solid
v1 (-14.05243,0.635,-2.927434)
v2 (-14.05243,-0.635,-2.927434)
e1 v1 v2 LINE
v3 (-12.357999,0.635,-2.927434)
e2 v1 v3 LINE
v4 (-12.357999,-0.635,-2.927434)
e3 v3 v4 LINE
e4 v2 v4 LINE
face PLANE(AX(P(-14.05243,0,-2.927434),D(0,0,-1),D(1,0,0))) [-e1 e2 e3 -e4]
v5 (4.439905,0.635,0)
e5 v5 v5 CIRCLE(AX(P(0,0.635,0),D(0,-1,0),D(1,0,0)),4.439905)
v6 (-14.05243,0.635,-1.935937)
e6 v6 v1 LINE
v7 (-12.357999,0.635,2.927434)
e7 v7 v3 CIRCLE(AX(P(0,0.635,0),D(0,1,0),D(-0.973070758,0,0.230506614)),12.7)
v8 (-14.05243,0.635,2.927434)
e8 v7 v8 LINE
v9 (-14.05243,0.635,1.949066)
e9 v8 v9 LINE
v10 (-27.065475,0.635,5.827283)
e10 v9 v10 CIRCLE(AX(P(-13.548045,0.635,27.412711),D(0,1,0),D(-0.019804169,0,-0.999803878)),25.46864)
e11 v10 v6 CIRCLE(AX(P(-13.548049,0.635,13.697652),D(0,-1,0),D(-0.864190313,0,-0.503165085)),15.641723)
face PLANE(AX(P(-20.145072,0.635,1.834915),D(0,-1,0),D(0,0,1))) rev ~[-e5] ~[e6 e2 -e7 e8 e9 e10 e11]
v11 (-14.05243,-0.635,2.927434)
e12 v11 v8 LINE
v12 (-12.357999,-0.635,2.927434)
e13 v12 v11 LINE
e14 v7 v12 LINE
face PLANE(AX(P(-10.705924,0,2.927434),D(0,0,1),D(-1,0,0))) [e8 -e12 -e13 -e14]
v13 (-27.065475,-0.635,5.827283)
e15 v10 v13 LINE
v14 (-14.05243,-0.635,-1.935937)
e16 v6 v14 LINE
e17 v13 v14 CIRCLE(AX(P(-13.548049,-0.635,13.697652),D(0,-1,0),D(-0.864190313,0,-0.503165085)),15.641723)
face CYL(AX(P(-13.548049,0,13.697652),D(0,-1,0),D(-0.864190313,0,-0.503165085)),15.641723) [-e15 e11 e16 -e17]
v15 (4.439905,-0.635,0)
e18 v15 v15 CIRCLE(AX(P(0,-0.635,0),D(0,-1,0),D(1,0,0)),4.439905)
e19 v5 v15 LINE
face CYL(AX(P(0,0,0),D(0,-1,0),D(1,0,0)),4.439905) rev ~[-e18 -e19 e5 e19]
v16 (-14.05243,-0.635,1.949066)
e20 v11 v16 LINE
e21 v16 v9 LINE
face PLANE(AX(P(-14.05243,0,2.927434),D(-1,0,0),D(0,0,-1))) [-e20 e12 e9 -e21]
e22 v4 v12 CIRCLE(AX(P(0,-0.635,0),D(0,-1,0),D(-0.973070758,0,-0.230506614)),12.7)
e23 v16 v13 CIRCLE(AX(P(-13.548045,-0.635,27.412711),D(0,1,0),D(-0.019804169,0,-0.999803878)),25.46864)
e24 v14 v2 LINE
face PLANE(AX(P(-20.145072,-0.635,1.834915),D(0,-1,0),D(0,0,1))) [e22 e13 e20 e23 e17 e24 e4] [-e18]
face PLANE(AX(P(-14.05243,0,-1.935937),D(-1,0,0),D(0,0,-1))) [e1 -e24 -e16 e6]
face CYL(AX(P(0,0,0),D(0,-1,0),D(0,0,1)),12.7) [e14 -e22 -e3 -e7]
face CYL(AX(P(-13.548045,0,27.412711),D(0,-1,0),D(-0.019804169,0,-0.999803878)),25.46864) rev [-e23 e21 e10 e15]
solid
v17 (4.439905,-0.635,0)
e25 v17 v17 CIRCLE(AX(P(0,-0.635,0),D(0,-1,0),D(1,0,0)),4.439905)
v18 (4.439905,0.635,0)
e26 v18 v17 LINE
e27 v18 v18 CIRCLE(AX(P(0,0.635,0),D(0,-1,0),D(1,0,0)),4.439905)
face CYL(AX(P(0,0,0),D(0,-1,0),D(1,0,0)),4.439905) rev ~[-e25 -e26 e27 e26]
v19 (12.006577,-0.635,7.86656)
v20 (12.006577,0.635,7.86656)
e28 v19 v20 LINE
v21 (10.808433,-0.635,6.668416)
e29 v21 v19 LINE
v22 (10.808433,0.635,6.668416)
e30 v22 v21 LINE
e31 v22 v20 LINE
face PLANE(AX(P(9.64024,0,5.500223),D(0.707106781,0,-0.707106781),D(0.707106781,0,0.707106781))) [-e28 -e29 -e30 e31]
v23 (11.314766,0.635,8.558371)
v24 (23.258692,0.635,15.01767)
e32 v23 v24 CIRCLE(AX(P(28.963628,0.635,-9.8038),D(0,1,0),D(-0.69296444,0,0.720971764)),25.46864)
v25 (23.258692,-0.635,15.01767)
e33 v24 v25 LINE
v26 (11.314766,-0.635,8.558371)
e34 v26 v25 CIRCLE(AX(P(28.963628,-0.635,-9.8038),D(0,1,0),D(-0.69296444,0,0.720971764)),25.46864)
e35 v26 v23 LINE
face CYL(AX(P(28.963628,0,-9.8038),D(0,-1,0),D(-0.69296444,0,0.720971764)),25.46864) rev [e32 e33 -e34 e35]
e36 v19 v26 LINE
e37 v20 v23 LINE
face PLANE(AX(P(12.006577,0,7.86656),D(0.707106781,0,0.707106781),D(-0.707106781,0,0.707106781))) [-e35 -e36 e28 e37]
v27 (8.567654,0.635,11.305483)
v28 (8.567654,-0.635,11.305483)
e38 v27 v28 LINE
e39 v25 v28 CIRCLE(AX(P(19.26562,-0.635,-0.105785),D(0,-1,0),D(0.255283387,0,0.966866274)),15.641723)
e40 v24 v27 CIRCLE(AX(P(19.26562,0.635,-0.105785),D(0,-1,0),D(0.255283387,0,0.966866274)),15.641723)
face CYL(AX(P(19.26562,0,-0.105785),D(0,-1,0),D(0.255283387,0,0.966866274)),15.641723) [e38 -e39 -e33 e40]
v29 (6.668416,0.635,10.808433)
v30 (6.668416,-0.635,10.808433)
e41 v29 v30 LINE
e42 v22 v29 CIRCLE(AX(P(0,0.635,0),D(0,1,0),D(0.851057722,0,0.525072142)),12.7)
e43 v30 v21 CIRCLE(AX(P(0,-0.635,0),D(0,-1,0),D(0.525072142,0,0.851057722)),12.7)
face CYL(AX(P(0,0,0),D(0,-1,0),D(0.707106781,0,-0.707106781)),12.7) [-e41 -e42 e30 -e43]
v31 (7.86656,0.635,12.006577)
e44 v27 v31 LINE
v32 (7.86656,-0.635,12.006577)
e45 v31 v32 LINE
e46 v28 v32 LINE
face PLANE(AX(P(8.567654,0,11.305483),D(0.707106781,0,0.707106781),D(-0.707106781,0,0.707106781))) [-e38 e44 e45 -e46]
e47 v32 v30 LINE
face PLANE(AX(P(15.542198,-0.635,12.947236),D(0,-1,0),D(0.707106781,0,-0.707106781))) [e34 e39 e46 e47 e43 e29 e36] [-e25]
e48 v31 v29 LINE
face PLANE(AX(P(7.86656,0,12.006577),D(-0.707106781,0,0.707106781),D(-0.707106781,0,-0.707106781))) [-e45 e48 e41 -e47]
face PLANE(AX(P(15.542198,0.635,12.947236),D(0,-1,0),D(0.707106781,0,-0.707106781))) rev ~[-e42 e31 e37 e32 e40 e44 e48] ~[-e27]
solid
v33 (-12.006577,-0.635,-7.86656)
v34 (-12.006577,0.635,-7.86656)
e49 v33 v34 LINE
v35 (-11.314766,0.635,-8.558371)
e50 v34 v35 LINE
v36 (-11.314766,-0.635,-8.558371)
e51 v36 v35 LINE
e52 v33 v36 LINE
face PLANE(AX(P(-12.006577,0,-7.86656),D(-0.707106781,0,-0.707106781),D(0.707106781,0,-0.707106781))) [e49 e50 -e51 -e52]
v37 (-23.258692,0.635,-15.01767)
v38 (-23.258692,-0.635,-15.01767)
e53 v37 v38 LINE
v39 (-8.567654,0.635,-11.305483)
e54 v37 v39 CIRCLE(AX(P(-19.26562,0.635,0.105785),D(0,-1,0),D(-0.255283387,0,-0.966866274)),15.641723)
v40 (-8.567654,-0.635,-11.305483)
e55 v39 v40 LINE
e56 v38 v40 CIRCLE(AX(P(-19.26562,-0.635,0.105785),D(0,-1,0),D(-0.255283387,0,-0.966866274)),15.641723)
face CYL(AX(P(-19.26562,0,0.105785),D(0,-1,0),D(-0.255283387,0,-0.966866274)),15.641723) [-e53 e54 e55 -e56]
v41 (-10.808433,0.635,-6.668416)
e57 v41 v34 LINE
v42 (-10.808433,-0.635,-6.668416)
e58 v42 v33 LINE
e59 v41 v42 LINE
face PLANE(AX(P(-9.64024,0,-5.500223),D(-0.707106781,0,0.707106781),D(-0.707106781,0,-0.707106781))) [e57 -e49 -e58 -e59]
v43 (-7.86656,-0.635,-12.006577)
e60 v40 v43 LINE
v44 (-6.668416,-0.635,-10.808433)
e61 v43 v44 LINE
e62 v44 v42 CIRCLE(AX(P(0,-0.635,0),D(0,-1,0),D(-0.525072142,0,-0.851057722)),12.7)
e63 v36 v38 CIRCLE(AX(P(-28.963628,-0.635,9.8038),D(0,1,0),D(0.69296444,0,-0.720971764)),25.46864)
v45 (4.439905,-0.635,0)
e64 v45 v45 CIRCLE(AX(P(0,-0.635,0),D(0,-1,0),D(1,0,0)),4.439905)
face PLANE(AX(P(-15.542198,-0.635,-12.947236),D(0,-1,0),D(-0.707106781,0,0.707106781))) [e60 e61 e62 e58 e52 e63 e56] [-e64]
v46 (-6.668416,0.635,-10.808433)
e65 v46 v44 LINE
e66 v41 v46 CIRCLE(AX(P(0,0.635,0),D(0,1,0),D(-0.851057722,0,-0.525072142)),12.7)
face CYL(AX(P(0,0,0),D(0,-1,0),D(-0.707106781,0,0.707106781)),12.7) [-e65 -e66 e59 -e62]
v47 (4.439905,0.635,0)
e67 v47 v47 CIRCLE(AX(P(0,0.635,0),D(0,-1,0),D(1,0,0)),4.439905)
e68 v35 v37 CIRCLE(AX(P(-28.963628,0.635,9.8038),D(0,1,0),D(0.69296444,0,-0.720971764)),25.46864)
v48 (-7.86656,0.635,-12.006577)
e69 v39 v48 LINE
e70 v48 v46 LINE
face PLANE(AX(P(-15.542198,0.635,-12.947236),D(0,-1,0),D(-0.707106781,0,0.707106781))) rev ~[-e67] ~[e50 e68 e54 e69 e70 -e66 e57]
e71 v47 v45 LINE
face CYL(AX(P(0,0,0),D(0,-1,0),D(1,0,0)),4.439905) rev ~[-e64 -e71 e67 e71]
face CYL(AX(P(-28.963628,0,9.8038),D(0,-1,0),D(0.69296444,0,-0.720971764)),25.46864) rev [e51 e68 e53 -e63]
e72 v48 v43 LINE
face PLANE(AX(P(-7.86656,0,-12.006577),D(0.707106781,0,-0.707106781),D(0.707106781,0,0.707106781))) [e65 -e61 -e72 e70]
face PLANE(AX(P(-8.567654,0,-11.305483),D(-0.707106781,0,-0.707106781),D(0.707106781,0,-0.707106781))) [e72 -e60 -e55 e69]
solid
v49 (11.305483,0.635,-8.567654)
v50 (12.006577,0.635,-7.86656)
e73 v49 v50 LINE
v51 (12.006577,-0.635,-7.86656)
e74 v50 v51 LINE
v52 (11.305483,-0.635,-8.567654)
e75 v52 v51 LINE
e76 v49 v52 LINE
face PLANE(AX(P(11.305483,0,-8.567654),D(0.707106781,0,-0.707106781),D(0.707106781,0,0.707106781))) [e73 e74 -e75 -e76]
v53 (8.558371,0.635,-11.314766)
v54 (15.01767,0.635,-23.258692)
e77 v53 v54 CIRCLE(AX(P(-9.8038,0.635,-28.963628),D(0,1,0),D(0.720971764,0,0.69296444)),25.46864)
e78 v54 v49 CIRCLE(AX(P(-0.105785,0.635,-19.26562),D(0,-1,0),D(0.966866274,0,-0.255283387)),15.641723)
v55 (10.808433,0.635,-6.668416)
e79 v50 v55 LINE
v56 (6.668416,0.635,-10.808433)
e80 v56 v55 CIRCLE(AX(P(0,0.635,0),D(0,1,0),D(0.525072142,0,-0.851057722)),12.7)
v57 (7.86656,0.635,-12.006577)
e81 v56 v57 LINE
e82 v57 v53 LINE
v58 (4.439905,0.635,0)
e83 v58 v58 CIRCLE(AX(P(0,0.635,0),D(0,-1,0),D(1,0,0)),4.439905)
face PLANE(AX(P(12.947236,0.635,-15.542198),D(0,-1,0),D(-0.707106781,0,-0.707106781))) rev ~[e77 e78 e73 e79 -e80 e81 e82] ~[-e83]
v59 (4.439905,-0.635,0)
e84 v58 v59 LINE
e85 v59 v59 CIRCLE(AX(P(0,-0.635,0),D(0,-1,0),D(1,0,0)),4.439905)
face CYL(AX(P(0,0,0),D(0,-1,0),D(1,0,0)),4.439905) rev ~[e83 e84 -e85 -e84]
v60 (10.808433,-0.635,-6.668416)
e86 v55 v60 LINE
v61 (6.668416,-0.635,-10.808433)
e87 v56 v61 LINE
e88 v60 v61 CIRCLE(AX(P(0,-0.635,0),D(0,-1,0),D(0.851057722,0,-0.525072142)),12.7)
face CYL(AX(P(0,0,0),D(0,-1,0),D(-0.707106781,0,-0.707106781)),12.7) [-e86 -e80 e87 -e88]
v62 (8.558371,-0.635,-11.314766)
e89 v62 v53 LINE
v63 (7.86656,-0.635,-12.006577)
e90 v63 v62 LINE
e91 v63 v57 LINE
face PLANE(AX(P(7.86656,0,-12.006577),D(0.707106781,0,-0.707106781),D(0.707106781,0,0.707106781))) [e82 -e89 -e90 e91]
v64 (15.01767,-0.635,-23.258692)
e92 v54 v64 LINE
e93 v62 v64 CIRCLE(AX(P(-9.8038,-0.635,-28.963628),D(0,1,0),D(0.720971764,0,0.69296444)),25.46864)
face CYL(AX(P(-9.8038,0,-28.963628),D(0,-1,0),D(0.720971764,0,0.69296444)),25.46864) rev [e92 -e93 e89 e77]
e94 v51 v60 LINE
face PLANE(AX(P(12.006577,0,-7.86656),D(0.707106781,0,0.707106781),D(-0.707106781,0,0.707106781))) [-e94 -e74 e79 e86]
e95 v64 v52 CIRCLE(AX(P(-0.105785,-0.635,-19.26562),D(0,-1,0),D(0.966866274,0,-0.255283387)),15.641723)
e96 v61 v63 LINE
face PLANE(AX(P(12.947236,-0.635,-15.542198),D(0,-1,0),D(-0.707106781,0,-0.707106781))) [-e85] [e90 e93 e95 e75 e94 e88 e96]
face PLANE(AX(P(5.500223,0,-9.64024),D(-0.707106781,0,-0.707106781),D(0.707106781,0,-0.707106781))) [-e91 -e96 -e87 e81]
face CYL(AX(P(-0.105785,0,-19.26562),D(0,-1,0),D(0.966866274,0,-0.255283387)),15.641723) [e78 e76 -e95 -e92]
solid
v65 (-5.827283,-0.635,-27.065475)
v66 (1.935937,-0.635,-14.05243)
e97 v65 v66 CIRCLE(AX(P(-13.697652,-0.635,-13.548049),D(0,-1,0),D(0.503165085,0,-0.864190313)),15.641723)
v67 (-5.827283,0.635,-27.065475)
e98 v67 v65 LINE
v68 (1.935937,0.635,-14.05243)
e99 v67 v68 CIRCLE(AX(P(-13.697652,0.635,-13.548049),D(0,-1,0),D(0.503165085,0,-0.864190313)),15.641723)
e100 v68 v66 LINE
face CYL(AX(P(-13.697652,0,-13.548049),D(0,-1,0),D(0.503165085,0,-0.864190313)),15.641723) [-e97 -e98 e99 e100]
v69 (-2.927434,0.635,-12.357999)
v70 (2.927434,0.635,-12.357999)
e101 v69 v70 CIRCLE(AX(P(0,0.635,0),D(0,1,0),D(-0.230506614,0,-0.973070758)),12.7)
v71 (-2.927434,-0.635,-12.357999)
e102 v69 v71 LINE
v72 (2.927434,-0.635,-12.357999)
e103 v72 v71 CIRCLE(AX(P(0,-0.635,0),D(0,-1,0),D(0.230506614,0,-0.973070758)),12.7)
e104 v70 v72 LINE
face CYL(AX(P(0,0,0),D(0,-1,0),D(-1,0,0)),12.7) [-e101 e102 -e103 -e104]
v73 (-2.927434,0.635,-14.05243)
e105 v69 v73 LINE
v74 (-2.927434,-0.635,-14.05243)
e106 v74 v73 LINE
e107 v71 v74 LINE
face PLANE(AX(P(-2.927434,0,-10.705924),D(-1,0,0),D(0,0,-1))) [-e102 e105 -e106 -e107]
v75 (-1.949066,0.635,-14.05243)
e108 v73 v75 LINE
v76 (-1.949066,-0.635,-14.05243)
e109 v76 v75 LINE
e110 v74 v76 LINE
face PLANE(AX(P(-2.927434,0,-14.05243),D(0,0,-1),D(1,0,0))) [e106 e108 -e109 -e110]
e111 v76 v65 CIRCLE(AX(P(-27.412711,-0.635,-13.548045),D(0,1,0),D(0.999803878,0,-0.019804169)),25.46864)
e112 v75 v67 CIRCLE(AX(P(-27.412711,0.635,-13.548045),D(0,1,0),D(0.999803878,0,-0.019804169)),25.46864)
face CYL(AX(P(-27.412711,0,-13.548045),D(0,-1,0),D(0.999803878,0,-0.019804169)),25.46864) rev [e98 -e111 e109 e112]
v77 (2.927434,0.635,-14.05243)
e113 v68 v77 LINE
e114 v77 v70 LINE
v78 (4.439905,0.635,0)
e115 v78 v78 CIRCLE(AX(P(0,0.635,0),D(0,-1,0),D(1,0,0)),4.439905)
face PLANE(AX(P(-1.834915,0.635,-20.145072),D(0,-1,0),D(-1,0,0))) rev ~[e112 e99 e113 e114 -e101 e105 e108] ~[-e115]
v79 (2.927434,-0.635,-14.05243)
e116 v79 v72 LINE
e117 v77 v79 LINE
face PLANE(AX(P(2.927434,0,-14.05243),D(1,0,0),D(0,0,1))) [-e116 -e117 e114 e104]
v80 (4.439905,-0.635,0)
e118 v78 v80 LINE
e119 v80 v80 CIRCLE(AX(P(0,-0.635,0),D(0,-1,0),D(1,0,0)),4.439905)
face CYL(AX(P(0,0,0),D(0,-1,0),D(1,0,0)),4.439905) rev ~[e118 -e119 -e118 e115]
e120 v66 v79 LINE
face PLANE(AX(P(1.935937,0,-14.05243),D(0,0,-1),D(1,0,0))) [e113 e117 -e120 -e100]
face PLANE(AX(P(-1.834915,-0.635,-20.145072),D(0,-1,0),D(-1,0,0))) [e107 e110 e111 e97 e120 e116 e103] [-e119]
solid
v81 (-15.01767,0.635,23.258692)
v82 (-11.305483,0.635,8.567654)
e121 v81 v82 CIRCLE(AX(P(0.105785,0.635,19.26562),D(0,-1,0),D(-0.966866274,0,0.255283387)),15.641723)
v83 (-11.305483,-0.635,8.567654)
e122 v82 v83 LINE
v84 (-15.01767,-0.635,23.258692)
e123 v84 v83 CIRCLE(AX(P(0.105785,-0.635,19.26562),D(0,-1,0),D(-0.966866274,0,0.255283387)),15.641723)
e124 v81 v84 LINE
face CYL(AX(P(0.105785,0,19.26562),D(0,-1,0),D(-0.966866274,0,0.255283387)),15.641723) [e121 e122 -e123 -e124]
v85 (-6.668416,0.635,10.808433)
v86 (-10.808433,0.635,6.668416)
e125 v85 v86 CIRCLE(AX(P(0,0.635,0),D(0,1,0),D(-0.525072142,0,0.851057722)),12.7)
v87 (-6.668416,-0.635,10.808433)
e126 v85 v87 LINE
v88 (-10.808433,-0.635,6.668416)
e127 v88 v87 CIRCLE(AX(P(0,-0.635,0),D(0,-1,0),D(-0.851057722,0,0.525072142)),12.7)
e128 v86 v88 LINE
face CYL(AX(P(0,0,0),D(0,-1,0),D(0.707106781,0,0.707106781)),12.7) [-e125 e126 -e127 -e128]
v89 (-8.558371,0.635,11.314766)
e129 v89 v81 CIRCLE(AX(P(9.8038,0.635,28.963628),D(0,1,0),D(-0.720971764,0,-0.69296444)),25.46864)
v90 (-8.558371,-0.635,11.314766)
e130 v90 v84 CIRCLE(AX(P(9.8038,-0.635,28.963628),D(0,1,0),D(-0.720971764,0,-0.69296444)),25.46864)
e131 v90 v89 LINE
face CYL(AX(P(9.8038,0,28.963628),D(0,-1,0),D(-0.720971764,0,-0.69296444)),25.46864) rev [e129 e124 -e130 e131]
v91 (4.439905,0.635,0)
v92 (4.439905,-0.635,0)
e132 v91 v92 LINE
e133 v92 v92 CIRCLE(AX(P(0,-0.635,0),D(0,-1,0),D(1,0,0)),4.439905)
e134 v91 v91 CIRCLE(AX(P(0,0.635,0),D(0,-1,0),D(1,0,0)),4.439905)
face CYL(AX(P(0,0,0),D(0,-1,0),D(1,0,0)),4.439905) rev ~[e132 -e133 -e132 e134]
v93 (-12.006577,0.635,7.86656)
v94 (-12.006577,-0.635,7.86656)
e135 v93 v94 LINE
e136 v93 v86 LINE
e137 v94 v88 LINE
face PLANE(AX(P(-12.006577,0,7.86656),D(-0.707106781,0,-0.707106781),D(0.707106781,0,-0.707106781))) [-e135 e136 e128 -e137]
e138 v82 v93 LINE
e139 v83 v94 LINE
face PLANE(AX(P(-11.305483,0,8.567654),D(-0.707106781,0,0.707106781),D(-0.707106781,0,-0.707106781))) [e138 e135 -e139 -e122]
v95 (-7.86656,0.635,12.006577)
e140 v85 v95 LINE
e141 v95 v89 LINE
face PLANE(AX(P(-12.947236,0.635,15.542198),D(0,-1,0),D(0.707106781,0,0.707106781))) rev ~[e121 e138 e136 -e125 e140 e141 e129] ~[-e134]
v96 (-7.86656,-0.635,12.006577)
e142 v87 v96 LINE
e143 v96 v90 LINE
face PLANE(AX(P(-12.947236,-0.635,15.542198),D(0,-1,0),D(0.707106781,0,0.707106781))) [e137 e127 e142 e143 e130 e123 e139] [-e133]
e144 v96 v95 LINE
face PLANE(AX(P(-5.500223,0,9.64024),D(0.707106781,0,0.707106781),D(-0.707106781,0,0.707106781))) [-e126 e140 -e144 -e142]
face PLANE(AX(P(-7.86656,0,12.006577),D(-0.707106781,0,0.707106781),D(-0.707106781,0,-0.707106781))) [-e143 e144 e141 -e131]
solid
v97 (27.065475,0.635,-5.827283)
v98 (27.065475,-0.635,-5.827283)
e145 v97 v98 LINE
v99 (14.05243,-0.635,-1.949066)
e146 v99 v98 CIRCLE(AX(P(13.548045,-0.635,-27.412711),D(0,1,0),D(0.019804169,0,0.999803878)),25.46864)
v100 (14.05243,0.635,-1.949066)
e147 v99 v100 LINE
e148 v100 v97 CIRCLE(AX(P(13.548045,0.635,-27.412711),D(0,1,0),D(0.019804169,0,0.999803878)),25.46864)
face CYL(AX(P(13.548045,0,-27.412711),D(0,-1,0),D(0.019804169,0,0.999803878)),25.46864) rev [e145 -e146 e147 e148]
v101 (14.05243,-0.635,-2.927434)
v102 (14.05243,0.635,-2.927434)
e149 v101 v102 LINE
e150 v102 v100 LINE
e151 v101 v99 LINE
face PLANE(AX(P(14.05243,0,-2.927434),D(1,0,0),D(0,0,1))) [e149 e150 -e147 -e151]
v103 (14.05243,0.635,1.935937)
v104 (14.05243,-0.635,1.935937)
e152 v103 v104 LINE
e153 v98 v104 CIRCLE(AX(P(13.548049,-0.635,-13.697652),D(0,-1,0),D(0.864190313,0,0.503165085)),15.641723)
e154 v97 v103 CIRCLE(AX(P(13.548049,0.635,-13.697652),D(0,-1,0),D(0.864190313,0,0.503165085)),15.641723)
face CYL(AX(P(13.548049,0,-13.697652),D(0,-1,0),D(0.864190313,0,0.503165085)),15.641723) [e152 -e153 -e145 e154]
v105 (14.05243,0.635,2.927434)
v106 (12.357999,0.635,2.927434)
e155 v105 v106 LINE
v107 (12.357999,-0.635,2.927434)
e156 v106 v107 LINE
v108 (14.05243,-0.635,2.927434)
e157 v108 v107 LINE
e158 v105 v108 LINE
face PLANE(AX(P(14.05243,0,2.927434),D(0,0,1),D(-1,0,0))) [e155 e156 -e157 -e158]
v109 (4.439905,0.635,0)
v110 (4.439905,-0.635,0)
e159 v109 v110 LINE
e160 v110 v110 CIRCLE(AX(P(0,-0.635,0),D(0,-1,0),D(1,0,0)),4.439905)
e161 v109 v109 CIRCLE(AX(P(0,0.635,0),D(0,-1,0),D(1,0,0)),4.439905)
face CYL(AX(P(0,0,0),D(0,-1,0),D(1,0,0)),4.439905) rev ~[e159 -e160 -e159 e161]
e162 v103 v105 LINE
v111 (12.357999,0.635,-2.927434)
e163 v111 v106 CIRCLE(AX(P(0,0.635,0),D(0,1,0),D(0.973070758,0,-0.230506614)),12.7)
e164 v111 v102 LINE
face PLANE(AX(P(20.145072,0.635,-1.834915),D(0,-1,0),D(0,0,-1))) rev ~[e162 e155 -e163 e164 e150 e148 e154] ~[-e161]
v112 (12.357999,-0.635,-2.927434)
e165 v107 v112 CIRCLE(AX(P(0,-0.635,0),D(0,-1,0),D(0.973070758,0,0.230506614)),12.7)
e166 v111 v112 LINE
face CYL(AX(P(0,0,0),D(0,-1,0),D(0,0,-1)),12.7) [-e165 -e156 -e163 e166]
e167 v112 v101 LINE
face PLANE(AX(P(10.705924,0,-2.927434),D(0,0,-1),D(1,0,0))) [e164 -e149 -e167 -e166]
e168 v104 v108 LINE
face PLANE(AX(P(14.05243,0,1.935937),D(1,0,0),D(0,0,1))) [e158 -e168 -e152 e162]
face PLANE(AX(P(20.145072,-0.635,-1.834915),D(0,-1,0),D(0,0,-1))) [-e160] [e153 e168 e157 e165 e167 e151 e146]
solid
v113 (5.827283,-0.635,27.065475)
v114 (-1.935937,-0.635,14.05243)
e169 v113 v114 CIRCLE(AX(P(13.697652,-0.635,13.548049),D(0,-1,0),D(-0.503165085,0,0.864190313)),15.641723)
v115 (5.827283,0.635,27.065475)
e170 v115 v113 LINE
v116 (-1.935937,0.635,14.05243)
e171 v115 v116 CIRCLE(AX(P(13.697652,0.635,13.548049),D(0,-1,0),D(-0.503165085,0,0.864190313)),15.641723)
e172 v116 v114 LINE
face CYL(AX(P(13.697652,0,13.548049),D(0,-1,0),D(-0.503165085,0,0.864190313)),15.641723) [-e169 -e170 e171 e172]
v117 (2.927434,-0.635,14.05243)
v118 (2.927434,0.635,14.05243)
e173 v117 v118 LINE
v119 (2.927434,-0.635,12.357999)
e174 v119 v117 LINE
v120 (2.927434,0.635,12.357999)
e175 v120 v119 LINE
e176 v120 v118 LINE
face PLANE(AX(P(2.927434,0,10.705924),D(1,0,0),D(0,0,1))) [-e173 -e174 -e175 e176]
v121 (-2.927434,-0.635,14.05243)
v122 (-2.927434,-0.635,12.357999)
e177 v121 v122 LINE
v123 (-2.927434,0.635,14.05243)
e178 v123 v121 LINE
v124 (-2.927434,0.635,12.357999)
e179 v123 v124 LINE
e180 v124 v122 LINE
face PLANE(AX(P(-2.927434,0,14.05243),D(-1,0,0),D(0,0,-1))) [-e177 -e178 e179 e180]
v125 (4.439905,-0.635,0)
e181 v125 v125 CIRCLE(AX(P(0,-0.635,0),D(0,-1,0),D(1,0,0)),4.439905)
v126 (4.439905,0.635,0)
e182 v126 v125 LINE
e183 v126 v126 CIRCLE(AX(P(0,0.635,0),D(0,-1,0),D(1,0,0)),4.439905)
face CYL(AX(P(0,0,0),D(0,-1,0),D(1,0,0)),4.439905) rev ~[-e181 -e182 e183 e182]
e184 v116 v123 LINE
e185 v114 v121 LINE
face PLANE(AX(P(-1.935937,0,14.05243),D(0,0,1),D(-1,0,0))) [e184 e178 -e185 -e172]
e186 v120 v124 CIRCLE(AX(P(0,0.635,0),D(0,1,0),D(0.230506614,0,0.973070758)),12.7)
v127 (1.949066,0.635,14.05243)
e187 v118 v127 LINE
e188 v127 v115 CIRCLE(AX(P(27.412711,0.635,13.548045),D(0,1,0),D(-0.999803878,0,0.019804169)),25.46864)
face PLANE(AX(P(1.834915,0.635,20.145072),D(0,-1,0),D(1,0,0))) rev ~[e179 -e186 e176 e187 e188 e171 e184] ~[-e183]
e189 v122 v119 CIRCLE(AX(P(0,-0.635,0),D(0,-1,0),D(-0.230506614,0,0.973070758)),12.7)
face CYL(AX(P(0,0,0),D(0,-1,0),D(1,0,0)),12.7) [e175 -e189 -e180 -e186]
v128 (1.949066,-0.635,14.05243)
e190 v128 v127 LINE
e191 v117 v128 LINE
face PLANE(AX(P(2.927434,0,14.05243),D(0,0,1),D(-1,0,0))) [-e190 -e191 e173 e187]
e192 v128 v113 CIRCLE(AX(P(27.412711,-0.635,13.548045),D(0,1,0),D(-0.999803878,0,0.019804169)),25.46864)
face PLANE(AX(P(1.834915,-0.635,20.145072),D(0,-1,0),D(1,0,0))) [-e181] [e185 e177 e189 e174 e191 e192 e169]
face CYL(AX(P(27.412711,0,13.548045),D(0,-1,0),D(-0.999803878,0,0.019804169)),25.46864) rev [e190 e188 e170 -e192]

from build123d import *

# Parameters (mm, degrees)
F0_R     = 12.7
F1_DEPTH = 0.635
F3_DEPTH = 0.635
F4_COUNT = 8
F5_R     = 4.439905
F6_DEPTH = 0.635


with BuildPart() as f1:
    # F0 (on Front) → F1 (new body, symmetric)
    with BuildSketch(Plane.XZ):
        Circle(F0_R)
    extrude(amount=F1_DEPTH, both=True)

    # F2 (on Front) → F3 (join, symmetric)
    with BuildSketch(Plane.XZ):
        with BuildLine():
            ThreePointArc((1.949066, 14.05243), (3.004953, 20.822175), (5.827283, 27.065475))
            ThreePointArc((5.827283, 27.065475), (0.264713, 21.561766), (-1.935937, 14.05243))
            Line((-1.935937, 14.05243), (1.949066, 14.05243))
        make_face()
        Polygon((1.949066, 14.05243), (-1.935937, 14.05243), (-2.927434, 14.05243), (-2.927434, 10.705924), (2.927434, 10.705924), (2.927434, 14.05243), align=None)
    extrude(amount=F3_DEPTH, both=True)


with BuildPart() as f4_1:
    # F4: instance of F1
    add(f1.part.rotate(Axis((0, -0.635, 0), (0, 1, 0)), 1 * 360 / F4_COUNT))


with BuildPart() as f4_2:
    # F4: instance of F1
    add(f1.part.rotate(Axis((0, -0.635, 0), (0, 1, 0)), 2 * 360 / F4_COUNT))


with BuildPart() as f4_3:
    # F4: instance of F1
    add(f1.part.rotate(Axis((0, -0.635, 0), (0, 1, 0)), 3 * 360 / F4_COUNT))


with BuildPart() as f4_4:
    # F4: instance of F1
    add(f1.part.rotate(Axis((0, -0.635, 0), (0, 1, 0)), 4 * 360 / F4_COUNT))


with BuildPart() as f4_5:
    # F4: instance of F1
    add(f1.part.rotate(Axis((0, -0.635, 0), (0, 1, 0)), 5 * 360 / F4_COUNT))


with BuildPart() as f4_6:
    # F4: instance of F1
    add(f1.part.rotate(Axis((0, -0.635, 0), (0, 1, 0)), 6 * 360 / F4_COUNT))


with BuildPart() as f4_7:
    # F4: instance of F1
    add(f1.part.rotate(Axis((0, -0.635, 0), (0, 1, 0)), 7 * 360 / F4_COUNT))


with BuildPart() as f6_tool:
    # F5 (on Front) → F6 (new body, symmetric)
    with BuildSketch(Plane.XZ):
        Circle(F5_R)
    extrude(amount=F6_DEPTH, both=True)


with BuildPart() as f1_1:
    add(f1.part)

    # F6: cut by f6_tool
    add(f6_tool.part, mode=Mode.SUBTRACT)


with BuildPart() as f4_1_1:
    add(f4_1.part)

    # F6: cut by f6_tool
    add(f6_tool.part, mode=Mode.SUBTRACT)


with BuildPart() as f4_2_1:
    add(f4_2.part)

    # F6: cut by f6_tool
    add(f6_tool.part, mode=Mode.SUBTRACT)


with BuildPart() as f4_3_1:
    add(f4_3.part)

    # F6: cut by f6_tool
    add(f6_tool.part, mode=Mode.SUBTRACT)


with BuildPart() as f4_4_1:
    add(f4_4.part)

    # F6: cut by f6_tool
    add(f6_tool.part, mode=Mode.SUBTRACT)


with BuildPart() as f4_5_1:
    add(f4_5.part)

    # F6: cut by f6_tool
    add(f6_tool.part, mode=Mode.SUBTRACT)


with BuildPart() as f4_6_1:
    add(f4_6.part)

    # F6: cut by f6_tool
    add(f6_tool.part, mode=Mode.SUBTRACT)


with BuildPart() as f4_7_1:
    add(f4_7.part)

    # F6: cut by f6_tool
    add(f6_tool.part, mode=Mode.SUBTRACT)


solid = Compound([f1_1.part, f4_1_1.part, f4_2_1.part, f4_3_1.part, f4_4_1.part, f4_5_1.part, f4_6_1.part, f4_7_1.part])
